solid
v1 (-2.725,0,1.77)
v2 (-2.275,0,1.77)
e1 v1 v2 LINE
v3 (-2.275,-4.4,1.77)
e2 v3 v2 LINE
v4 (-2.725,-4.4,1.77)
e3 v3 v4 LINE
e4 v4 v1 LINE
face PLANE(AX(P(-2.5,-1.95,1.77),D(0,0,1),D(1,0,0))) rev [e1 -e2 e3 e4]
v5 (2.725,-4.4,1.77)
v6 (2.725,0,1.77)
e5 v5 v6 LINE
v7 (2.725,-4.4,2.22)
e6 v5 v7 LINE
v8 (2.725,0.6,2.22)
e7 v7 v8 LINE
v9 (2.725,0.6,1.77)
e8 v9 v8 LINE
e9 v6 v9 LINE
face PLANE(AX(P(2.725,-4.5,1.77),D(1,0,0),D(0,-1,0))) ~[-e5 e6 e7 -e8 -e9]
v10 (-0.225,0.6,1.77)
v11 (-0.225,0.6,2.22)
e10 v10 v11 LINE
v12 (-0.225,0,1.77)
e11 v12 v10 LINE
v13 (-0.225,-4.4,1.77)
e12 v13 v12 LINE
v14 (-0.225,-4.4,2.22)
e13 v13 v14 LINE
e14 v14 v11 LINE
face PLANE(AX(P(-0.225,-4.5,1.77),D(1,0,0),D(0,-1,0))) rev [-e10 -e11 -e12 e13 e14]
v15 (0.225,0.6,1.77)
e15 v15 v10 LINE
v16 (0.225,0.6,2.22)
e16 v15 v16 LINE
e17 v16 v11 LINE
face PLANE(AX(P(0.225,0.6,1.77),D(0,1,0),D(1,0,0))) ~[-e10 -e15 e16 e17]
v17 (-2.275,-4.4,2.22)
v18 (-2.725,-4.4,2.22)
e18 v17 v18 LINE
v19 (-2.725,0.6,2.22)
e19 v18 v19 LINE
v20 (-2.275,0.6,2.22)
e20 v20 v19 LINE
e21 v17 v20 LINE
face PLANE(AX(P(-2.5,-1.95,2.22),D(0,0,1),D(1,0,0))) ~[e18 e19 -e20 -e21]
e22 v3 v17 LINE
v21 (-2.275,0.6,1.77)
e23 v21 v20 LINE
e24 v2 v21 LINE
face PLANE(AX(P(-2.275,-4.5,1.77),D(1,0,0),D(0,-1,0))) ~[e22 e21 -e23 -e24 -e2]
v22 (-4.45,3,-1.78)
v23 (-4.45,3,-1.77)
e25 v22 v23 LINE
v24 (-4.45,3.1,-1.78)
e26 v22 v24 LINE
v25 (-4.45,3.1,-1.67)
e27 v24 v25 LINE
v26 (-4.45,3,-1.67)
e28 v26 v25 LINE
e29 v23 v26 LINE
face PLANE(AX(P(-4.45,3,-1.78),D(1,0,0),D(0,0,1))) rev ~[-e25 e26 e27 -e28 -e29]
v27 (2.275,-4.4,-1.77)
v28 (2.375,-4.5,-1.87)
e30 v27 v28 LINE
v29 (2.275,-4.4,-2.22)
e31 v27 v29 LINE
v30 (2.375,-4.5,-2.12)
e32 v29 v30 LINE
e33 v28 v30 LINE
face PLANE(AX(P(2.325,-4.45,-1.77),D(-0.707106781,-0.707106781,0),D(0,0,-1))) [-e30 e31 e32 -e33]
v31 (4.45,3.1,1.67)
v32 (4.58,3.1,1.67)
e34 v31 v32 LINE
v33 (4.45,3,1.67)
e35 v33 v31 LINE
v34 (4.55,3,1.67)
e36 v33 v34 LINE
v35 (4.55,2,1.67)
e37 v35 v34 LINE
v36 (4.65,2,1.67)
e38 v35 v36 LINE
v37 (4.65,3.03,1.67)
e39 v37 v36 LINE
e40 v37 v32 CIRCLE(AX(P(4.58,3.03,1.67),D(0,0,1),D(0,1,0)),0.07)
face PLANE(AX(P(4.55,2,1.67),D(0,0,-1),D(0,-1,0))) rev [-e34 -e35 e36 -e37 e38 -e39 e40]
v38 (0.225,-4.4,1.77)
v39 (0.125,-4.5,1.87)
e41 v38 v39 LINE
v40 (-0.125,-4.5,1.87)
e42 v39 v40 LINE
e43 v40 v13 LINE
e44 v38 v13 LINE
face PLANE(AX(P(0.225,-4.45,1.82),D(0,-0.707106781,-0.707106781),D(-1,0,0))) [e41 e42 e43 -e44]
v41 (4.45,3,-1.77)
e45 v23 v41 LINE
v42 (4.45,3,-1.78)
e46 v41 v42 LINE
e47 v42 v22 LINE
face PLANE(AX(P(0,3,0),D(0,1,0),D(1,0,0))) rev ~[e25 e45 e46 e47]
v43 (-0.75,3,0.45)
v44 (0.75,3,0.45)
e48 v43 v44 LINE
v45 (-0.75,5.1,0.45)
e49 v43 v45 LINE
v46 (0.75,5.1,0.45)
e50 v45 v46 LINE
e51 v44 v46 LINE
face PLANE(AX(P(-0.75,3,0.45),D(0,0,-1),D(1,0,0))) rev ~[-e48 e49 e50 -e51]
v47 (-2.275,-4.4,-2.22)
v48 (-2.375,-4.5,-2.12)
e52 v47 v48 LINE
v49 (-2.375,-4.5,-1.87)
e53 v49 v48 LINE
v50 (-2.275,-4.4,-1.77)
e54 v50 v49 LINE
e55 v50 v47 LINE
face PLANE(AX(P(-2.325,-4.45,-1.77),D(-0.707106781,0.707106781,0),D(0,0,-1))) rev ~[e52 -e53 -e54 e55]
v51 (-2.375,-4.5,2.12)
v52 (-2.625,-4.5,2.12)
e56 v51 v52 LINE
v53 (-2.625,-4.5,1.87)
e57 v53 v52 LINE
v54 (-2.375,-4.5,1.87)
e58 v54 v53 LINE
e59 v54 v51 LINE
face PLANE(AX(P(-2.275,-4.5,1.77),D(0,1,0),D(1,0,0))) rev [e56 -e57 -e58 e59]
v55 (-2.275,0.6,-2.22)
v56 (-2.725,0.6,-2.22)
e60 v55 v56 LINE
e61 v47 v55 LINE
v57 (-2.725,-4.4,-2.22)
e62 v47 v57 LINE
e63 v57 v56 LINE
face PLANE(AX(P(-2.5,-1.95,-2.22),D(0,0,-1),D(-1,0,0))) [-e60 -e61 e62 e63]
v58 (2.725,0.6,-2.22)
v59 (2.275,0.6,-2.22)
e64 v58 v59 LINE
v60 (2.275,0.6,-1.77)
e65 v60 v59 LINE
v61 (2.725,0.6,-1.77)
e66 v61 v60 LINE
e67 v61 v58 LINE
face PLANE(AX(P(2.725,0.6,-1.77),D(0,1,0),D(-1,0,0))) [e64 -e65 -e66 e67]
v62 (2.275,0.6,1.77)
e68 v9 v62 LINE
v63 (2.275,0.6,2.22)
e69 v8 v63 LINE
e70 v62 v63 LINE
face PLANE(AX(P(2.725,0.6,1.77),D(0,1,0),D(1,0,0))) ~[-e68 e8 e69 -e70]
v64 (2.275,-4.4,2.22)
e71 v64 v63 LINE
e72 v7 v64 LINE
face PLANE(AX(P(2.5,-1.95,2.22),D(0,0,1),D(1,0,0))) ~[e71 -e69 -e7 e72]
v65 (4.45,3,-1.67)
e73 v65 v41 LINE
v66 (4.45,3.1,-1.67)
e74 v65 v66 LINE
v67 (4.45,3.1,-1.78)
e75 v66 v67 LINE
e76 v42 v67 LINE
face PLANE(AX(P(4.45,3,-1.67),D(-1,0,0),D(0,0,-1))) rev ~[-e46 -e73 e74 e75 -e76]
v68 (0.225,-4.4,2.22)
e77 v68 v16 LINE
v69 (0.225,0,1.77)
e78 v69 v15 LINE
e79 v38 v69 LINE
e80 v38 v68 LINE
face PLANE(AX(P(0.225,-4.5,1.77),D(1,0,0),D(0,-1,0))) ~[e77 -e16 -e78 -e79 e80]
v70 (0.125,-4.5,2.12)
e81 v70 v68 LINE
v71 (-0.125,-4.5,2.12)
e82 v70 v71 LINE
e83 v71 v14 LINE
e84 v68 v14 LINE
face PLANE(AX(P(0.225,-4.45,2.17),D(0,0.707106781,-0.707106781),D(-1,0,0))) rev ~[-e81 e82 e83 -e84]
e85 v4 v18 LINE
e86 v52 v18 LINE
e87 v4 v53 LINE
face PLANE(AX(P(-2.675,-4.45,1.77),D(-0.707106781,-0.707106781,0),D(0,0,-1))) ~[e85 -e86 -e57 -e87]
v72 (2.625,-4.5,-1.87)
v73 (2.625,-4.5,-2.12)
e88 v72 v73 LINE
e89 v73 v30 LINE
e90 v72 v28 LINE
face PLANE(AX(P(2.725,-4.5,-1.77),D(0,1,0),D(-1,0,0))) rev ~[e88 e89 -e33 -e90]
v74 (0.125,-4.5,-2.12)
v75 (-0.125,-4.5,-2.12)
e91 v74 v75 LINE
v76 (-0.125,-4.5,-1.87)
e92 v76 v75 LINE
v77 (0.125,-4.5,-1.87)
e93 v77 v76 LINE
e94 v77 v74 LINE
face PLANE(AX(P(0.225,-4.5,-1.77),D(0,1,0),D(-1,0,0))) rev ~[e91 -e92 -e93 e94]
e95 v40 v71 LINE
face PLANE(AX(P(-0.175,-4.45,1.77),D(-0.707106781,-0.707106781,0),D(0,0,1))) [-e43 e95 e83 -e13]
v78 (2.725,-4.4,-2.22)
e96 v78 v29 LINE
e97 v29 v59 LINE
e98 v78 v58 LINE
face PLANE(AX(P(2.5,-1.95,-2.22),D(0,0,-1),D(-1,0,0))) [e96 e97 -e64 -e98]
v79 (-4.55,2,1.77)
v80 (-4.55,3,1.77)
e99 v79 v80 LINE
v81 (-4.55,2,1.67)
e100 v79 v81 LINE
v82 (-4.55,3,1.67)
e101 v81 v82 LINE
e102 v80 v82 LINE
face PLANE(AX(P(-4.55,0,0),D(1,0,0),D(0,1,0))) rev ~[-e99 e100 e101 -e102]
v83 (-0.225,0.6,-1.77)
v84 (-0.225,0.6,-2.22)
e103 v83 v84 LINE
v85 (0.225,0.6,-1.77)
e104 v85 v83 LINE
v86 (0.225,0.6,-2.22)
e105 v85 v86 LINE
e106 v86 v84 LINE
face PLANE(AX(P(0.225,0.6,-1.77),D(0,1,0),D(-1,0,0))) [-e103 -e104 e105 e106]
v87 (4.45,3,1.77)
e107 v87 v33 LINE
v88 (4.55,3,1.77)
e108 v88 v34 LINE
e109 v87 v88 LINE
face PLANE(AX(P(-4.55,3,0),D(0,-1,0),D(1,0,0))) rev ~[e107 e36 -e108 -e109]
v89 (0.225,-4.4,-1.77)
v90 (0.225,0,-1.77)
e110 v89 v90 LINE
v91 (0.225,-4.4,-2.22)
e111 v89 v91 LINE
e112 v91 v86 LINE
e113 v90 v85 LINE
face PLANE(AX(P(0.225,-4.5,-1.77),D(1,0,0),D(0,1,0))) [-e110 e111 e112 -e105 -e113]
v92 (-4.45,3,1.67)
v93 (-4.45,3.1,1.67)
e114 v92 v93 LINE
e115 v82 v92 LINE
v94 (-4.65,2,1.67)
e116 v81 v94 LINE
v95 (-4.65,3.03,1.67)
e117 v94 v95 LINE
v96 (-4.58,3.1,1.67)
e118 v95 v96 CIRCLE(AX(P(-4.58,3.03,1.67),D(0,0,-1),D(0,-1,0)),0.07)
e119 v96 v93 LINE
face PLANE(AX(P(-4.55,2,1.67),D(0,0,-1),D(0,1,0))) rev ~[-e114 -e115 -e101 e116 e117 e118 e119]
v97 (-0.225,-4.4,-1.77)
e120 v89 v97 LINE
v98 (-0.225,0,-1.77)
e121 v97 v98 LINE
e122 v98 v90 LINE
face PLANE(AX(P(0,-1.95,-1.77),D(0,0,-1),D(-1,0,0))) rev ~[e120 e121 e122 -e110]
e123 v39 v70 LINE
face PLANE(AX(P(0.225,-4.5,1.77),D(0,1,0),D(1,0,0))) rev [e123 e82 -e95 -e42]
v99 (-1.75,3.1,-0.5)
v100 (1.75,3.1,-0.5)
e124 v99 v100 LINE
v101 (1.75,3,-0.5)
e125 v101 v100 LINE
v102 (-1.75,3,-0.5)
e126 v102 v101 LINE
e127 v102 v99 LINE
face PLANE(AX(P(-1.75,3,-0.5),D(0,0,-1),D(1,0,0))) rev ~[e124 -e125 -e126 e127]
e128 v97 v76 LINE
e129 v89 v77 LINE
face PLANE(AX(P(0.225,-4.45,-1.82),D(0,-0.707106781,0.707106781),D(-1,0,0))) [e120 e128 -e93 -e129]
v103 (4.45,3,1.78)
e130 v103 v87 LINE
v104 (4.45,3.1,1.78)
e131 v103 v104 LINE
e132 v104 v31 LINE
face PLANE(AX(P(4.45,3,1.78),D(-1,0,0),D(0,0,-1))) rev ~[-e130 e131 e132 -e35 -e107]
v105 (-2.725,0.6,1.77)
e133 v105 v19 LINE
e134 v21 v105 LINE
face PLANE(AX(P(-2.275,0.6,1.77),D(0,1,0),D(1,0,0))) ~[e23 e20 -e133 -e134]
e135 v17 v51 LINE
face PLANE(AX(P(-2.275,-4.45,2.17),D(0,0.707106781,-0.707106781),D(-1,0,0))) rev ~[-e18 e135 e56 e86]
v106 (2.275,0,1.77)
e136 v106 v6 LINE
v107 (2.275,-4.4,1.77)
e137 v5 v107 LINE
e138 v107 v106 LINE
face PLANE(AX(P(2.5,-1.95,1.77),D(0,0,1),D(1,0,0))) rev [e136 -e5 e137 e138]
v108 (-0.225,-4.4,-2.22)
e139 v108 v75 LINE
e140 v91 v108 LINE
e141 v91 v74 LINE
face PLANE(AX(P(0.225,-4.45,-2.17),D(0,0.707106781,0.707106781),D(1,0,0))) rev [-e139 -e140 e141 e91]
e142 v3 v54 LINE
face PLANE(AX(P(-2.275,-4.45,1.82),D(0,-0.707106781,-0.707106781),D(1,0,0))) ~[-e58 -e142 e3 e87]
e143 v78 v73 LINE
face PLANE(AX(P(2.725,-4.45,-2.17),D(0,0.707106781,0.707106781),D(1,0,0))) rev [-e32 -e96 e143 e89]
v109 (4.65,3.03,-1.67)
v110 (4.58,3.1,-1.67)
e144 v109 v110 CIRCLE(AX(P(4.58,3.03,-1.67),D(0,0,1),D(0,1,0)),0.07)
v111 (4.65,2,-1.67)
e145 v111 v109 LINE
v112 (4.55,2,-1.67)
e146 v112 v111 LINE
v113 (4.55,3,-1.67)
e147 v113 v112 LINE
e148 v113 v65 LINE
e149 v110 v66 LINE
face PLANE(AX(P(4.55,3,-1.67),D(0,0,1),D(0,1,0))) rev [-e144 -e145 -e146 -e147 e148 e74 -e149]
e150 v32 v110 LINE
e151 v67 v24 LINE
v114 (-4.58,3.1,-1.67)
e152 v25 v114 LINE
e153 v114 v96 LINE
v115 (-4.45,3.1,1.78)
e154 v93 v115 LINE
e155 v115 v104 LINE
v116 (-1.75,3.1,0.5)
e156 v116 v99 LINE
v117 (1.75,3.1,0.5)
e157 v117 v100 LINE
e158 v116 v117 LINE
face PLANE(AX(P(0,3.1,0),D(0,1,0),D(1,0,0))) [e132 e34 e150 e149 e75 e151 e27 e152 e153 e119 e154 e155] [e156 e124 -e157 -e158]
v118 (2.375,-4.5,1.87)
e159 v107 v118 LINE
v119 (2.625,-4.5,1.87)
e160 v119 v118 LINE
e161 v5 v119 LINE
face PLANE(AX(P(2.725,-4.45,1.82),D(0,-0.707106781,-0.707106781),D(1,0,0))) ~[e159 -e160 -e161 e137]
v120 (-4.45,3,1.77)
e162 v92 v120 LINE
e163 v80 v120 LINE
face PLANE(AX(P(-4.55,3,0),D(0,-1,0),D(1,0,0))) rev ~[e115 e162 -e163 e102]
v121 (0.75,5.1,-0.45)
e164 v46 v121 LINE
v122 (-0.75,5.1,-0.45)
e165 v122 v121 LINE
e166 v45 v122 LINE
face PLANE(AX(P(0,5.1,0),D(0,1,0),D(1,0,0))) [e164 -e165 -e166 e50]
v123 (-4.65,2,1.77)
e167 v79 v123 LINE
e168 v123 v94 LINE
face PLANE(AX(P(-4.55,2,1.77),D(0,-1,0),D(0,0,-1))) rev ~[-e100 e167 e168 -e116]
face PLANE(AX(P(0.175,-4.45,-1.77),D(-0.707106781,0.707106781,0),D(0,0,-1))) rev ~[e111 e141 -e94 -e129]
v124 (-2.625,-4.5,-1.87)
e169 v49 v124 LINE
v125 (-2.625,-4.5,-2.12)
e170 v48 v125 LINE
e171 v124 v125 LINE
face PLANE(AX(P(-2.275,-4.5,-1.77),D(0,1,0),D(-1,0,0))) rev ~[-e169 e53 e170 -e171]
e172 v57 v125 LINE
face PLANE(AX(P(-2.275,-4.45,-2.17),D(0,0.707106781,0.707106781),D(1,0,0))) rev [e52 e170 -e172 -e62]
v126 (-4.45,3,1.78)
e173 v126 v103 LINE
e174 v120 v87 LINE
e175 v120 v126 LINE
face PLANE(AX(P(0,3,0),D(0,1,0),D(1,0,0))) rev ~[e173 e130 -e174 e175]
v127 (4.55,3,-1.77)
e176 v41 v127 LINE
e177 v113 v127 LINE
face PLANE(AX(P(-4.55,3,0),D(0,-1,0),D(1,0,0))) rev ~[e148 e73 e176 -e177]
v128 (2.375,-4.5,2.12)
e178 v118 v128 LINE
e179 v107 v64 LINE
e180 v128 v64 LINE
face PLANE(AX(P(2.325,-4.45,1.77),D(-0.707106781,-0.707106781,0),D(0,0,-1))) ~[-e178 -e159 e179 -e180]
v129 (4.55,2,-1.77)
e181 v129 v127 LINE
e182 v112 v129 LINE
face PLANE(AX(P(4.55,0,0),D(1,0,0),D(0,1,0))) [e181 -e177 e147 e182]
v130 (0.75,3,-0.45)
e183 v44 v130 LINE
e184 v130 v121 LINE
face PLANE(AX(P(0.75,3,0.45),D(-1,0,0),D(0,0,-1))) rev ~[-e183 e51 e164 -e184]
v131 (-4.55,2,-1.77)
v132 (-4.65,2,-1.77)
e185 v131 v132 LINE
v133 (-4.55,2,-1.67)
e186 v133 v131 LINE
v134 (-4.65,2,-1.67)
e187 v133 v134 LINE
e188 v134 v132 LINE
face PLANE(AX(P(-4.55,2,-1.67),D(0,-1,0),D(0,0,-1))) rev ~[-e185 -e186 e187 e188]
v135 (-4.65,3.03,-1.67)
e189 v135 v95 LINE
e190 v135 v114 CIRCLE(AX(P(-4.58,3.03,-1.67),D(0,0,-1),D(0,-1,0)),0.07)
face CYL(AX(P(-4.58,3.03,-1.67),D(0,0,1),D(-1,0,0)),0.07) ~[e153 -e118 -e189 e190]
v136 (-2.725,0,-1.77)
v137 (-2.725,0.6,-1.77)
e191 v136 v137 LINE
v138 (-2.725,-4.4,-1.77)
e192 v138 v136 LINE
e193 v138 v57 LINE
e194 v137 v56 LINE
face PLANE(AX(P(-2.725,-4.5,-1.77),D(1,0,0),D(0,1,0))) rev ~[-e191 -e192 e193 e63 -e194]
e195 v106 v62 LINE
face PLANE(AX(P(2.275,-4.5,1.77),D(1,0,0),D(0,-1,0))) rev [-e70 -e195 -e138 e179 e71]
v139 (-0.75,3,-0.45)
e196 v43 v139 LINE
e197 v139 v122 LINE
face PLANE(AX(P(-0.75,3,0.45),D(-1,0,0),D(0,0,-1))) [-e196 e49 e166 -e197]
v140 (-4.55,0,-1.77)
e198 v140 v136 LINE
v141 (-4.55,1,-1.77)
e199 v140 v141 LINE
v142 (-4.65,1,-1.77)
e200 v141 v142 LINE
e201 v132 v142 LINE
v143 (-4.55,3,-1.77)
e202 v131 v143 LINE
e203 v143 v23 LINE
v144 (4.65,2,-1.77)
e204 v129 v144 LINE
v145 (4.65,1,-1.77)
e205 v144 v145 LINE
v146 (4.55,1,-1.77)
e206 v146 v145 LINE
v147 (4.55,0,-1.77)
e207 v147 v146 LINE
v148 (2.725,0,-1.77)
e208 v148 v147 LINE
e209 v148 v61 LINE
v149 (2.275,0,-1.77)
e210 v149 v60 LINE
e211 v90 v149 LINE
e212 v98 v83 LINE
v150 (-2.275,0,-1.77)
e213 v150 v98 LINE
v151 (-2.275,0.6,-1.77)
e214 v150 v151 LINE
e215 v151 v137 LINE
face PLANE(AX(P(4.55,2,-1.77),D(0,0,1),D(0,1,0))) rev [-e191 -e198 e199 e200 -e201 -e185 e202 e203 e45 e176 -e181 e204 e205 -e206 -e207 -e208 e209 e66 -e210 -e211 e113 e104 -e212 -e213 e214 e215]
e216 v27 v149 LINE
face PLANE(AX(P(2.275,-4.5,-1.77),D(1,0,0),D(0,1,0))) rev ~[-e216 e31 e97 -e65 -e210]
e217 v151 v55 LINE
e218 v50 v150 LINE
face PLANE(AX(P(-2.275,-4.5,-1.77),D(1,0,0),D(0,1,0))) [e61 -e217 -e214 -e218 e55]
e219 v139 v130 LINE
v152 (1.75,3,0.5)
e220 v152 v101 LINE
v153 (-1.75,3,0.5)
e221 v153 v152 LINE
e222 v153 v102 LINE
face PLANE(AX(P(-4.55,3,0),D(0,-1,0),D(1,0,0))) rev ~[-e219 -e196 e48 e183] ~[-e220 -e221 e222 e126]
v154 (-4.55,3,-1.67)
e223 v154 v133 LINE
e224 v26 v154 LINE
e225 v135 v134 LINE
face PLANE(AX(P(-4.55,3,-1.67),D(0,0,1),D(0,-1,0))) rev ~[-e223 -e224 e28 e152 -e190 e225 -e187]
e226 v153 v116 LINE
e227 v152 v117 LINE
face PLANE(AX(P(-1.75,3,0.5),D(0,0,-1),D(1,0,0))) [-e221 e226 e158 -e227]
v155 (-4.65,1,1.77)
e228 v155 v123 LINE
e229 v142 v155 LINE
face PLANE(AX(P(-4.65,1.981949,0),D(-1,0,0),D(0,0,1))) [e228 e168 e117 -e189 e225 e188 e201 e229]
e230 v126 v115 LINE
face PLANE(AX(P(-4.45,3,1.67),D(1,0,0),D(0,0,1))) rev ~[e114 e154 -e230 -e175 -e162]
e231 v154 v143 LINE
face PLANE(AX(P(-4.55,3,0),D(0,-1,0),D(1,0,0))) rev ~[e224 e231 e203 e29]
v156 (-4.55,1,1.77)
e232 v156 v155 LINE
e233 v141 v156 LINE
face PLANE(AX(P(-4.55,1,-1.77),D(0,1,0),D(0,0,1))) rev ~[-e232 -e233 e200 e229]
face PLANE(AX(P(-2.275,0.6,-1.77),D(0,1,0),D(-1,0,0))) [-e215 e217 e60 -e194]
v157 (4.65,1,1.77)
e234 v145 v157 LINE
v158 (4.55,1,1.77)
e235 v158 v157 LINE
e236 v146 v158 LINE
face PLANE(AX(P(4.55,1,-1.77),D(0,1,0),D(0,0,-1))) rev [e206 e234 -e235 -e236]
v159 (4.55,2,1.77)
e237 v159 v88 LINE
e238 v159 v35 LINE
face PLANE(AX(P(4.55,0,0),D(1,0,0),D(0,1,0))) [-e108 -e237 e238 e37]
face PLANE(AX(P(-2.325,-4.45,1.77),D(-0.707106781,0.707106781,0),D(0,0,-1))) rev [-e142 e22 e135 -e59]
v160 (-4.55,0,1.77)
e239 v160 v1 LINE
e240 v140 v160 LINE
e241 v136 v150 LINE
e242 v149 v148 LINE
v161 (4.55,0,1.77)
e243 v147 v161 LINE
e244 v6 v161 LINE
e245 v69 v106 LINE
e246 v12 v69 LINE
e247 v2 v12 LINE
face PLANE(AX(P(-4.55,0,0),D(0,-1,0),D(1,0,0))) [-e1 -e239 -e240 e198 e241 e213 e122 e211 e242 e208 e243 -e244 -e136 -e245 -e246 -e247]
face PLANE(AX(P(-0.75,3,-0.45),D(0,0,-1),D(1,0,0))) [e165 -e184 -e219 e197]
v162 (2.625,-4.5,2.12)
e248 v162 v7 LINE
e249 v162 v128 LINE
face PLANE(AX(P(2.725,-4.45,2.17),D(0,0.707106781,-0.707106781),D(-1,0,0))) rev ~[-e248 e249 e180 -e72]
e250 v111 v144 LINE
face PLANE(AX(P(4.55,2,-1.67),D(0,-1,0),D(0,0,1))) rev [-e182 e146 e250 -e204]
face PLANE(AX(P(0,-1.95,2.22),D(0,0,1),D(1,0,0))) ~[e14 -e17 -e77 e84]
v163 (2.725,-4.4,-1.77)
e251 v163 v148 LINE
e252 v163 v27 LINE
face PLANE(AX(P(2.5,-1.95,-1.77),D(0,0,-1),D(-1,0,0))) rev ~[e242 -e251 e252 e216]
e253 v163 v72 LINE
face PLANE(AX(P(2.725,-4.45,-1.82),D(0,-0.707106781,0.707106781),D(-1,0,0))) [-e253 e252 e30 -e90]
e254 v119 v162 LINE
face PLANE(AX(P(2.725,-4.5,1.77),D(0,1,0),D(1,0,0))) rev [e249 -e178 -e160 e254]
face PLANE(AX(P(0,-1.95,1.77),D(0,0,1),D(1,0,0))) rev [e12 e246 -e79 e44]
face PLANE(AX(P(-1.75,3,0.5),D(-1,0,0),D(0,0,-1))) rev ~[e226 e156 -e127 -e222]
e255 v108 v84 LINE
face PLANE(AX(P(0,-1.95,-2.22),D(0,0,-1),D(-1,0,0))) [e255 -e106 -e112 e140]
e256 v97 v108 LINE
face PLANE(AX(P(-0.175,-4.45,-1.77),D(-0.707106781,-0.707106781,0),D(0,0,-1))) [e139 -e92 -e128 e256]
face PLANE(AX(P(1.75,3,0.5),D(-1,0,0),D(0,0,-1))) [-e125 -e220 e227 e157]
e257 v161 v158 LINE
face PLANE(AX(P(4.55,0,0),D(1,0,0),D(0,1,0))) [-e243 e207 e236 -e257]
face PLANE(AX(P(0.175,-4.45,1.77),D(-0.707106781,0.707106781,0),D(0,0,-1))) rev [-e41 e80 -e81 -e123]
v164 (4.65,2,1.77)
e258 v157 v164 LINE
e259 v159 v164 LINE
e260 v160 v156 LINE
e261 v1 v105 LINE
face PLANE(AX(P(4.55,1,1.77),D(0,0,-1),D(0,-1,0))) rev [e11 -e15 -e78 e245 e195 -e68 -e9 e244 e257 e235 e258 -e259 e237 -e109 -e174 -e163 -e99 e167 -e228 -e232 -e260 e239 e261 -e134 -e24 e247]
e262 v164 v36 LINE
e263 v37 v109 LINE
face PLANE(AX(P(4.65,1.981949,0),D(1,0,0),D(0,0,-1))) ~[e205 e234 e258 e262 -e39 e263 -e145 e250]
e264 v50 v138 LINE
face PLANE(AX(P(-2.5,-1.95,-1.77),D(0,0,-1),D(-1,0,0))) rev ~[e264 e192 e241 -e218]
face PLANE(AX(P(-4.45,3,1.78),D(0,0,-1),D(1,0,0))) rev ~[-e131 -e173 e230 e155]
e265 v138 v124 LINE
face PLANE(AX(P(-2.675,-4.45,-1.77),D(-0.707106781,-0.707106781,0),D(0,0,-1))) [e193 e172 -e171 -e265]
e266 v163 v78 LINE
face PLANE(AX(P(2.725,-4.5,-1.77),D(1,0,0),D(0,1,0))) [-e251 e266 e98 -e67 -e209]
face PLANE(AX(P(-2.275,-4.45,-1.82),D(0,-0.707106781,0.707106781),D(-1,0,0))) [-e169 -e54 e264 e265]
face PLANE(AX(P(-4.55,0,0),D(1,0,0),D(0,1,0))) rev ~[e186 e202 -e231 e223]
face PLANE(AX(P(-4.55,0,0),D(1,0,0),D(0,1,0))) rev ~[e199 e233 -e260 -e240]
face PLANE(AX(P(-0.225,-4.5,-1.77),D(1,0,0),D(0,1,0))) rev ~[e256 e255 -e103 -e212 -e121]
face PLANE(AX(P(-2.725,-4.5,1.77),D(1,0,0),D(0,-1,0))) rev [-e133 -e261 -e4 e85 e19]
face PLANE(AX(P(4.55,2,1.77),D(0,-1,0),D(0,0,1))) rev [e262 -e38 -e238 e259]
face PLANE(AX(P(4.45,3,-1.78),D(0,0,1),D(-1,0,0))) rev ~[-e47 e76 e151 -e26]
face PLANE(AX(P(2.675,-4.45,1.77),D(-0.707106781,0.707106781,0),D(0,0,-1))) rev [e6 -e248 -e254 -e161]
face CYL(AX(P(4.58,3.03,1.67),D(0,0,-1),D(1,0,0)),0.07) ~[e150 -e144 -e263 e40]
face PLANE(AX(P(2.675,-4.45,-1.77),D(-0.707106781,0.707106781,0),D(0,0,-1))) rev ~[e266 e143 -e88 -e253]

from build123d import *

# Parameters (mm, degrees)
ESQUISSE1_W             = 9.1
ESQUISSE1_H             = 3
BOSS_EXTRU_1_DEPTH      = 1.77
BOSS_EXTRU_1_DEPTH_BACK = 1.77
ESQUISSE2_W             = 3.5
ESQUISSE2_H             = 1
BOSS_EXTRU_2_DEPTH      = 0.1
BOSS_EXTRU_3_DEPTH      = 0.1
CONG_1_R                = 0.07
ESQUISSE4_W             = 1.5
ESQUISSE4_H             = 0.9
BOSS_EXTRU_4_DEPTH      = 2.1
ESQUISSE6_W             = 0.45
ESQUISSE6_H             = 5.1
BOSS_EXTRU_5_DEPTH      = 0.45
CHANFREIN1_SIZE         = 0.1


with BuildPart() as part:
    # Esquisse1 → Boss.-Extru.1 (new body, two sides)
    with BuildSketch(Plane.XY) as boss_extru_1_sk:
        with Locations((0, 1.5)):
            Rectangle(ESQUISSE1_W, ESQUISSE1_H)
    extrude(amount=BOSS_EXTRU_1_DEPTH)
    extrude(boss_extru_1_sk.sketch, amount=-BOSS_EXTRU_1_DEPTH_BACK)

    # Esquisse2 → Boss.-Extru.2 (add)
    with BuildSketch(Plane(origin=(0, 3, 0), x_dir=(1, 0, 0), z_dir=(0, 1, 0))):
        Polygon((-4.65, 1.67), (-4.65, -1.67), (-4.45, -1.67), (-4.45, -1.78), (4.45, -1.78), (4.45, -1.67), (4.65, -1.67), (4.65, 1.67), (4.45, 1.67), (4.45, 1.78), (-4.45, 1.78), (-4.45, 1.67), align=None)
        Rectangle(ESQUISSE2_W, ESQUISSE2_H, mode=Mode.SUBTRACT)
    extrude(amount=BOSS_EXTRU_2_DEPTH)

    # Esquisse3 → Boss.-Extru.3 (add)
    with BuildSketch(Plane.ZY.offset(4.55)):
        Polygon((-1.77, 1), (1.77, 1), (1.77, 2), (1.67, 2), (1.67, 3), (-1.67, 3), (-1.67, 2), (-1.77, 2), align=None)
    boss_extru_3 = extrude(amount=BOSS_EXTRU_3_DEPTH)

    # Sym_trie1: Boss.-Extru.3 across plane
    add(boss_extru_3.mirror(Plane(origin=(0, 0, 0), x_dir=(0, 0, 1), z_dir=(1, 0, 0))))

    # Cong_1
    cong_1_edges = [part.edges().sort_by_distance(p)[0] for p in [
        (-4.65, 3.1, 0),
        (4.65, 3.1, 0),
    ]]
    fillet(cong_1_edges, radius=CONG_1_R)

    # Esquisse4 → Boss.-Extru.4 (add)
    with BuildSketch(Plane(origin=(0, 3, 0), x_dir=(1, 0, 0), z_dir=(0, 1, 0))):
        Rectangle(ESQUISSE4_W, ESQUISSE4_H)
    extrude(amount=BOSS_EXTRU_4_DEPTH)

    # Esquisse6 → Boss.-Extru.5 (add)
    with BuildSketch(Plane(origin=(0, 0, -1.77), x_dir=(-1, 0, 0), z_dir=(0, 0, -1))):
        with Locations((0, -1.95)):
            Rectangle(ESQUISSE6_W, ESQUISSE6_H)
        with Locations((-2.5, -1.95)):
            Rectangle(ESQUISSE6_W, ESQUISSE6_H)
        with Locations((2.5, -1.95)):
            Rectangle(ESQUISSE6_W, ESQUISSE6_H)
    boss_extru_5 = extrude(amount=BOSS_EXTRU_5_DEPTH)

    # Sym_trie2: Boss.-Extru.5 across plane
    add(boss_extru_5.mirror(Plane.XY))

    # Chanfrein1
    chanfrein1_edges = [part.edges().sort_by_distance(p)[0] for p in [
        (-0.225, -4.5, -1.995),
        (0, -4.5, -1.77),
        (0.225, -4.5, -1.995),
        (0, -4.5, -2.22),
        (2.275, -4.5, -1.995),
        (2.5, -4.5, -1.77),
        (2.725, -4.5, -1.995),
        (2.5, -4.5, -2.22),
        (-2.5, -4.5, -1.77),
        (-2.275, -4.5, -1.995),
        (-2.725, -4.5, -1.995),
        (-2.5, -4.5, -2.22),
        (0, -4.5, 2.22),
        (-0.225, -4.5, 1.995),
        (0.225, -4.5, 1.995),
        (0, -4.5, 1.77),
        (2.5, -4.5, 2.22),
        (2.275, -4.5, 1.995),
        (2.725, -4.5, 1.995),
        (2.5, -4.5, 1.77),
        (-2.275, -4.5, 1.995),
        (-2.5, -4.5, 2.22),
        (-2.725, -4.5, 1.995),
        (-2.5, -4.5, 1.77),
    ]]
    chamfer(chanfrein1_edges, length=CHANFREIN1_SIZE)


solid = part.part
